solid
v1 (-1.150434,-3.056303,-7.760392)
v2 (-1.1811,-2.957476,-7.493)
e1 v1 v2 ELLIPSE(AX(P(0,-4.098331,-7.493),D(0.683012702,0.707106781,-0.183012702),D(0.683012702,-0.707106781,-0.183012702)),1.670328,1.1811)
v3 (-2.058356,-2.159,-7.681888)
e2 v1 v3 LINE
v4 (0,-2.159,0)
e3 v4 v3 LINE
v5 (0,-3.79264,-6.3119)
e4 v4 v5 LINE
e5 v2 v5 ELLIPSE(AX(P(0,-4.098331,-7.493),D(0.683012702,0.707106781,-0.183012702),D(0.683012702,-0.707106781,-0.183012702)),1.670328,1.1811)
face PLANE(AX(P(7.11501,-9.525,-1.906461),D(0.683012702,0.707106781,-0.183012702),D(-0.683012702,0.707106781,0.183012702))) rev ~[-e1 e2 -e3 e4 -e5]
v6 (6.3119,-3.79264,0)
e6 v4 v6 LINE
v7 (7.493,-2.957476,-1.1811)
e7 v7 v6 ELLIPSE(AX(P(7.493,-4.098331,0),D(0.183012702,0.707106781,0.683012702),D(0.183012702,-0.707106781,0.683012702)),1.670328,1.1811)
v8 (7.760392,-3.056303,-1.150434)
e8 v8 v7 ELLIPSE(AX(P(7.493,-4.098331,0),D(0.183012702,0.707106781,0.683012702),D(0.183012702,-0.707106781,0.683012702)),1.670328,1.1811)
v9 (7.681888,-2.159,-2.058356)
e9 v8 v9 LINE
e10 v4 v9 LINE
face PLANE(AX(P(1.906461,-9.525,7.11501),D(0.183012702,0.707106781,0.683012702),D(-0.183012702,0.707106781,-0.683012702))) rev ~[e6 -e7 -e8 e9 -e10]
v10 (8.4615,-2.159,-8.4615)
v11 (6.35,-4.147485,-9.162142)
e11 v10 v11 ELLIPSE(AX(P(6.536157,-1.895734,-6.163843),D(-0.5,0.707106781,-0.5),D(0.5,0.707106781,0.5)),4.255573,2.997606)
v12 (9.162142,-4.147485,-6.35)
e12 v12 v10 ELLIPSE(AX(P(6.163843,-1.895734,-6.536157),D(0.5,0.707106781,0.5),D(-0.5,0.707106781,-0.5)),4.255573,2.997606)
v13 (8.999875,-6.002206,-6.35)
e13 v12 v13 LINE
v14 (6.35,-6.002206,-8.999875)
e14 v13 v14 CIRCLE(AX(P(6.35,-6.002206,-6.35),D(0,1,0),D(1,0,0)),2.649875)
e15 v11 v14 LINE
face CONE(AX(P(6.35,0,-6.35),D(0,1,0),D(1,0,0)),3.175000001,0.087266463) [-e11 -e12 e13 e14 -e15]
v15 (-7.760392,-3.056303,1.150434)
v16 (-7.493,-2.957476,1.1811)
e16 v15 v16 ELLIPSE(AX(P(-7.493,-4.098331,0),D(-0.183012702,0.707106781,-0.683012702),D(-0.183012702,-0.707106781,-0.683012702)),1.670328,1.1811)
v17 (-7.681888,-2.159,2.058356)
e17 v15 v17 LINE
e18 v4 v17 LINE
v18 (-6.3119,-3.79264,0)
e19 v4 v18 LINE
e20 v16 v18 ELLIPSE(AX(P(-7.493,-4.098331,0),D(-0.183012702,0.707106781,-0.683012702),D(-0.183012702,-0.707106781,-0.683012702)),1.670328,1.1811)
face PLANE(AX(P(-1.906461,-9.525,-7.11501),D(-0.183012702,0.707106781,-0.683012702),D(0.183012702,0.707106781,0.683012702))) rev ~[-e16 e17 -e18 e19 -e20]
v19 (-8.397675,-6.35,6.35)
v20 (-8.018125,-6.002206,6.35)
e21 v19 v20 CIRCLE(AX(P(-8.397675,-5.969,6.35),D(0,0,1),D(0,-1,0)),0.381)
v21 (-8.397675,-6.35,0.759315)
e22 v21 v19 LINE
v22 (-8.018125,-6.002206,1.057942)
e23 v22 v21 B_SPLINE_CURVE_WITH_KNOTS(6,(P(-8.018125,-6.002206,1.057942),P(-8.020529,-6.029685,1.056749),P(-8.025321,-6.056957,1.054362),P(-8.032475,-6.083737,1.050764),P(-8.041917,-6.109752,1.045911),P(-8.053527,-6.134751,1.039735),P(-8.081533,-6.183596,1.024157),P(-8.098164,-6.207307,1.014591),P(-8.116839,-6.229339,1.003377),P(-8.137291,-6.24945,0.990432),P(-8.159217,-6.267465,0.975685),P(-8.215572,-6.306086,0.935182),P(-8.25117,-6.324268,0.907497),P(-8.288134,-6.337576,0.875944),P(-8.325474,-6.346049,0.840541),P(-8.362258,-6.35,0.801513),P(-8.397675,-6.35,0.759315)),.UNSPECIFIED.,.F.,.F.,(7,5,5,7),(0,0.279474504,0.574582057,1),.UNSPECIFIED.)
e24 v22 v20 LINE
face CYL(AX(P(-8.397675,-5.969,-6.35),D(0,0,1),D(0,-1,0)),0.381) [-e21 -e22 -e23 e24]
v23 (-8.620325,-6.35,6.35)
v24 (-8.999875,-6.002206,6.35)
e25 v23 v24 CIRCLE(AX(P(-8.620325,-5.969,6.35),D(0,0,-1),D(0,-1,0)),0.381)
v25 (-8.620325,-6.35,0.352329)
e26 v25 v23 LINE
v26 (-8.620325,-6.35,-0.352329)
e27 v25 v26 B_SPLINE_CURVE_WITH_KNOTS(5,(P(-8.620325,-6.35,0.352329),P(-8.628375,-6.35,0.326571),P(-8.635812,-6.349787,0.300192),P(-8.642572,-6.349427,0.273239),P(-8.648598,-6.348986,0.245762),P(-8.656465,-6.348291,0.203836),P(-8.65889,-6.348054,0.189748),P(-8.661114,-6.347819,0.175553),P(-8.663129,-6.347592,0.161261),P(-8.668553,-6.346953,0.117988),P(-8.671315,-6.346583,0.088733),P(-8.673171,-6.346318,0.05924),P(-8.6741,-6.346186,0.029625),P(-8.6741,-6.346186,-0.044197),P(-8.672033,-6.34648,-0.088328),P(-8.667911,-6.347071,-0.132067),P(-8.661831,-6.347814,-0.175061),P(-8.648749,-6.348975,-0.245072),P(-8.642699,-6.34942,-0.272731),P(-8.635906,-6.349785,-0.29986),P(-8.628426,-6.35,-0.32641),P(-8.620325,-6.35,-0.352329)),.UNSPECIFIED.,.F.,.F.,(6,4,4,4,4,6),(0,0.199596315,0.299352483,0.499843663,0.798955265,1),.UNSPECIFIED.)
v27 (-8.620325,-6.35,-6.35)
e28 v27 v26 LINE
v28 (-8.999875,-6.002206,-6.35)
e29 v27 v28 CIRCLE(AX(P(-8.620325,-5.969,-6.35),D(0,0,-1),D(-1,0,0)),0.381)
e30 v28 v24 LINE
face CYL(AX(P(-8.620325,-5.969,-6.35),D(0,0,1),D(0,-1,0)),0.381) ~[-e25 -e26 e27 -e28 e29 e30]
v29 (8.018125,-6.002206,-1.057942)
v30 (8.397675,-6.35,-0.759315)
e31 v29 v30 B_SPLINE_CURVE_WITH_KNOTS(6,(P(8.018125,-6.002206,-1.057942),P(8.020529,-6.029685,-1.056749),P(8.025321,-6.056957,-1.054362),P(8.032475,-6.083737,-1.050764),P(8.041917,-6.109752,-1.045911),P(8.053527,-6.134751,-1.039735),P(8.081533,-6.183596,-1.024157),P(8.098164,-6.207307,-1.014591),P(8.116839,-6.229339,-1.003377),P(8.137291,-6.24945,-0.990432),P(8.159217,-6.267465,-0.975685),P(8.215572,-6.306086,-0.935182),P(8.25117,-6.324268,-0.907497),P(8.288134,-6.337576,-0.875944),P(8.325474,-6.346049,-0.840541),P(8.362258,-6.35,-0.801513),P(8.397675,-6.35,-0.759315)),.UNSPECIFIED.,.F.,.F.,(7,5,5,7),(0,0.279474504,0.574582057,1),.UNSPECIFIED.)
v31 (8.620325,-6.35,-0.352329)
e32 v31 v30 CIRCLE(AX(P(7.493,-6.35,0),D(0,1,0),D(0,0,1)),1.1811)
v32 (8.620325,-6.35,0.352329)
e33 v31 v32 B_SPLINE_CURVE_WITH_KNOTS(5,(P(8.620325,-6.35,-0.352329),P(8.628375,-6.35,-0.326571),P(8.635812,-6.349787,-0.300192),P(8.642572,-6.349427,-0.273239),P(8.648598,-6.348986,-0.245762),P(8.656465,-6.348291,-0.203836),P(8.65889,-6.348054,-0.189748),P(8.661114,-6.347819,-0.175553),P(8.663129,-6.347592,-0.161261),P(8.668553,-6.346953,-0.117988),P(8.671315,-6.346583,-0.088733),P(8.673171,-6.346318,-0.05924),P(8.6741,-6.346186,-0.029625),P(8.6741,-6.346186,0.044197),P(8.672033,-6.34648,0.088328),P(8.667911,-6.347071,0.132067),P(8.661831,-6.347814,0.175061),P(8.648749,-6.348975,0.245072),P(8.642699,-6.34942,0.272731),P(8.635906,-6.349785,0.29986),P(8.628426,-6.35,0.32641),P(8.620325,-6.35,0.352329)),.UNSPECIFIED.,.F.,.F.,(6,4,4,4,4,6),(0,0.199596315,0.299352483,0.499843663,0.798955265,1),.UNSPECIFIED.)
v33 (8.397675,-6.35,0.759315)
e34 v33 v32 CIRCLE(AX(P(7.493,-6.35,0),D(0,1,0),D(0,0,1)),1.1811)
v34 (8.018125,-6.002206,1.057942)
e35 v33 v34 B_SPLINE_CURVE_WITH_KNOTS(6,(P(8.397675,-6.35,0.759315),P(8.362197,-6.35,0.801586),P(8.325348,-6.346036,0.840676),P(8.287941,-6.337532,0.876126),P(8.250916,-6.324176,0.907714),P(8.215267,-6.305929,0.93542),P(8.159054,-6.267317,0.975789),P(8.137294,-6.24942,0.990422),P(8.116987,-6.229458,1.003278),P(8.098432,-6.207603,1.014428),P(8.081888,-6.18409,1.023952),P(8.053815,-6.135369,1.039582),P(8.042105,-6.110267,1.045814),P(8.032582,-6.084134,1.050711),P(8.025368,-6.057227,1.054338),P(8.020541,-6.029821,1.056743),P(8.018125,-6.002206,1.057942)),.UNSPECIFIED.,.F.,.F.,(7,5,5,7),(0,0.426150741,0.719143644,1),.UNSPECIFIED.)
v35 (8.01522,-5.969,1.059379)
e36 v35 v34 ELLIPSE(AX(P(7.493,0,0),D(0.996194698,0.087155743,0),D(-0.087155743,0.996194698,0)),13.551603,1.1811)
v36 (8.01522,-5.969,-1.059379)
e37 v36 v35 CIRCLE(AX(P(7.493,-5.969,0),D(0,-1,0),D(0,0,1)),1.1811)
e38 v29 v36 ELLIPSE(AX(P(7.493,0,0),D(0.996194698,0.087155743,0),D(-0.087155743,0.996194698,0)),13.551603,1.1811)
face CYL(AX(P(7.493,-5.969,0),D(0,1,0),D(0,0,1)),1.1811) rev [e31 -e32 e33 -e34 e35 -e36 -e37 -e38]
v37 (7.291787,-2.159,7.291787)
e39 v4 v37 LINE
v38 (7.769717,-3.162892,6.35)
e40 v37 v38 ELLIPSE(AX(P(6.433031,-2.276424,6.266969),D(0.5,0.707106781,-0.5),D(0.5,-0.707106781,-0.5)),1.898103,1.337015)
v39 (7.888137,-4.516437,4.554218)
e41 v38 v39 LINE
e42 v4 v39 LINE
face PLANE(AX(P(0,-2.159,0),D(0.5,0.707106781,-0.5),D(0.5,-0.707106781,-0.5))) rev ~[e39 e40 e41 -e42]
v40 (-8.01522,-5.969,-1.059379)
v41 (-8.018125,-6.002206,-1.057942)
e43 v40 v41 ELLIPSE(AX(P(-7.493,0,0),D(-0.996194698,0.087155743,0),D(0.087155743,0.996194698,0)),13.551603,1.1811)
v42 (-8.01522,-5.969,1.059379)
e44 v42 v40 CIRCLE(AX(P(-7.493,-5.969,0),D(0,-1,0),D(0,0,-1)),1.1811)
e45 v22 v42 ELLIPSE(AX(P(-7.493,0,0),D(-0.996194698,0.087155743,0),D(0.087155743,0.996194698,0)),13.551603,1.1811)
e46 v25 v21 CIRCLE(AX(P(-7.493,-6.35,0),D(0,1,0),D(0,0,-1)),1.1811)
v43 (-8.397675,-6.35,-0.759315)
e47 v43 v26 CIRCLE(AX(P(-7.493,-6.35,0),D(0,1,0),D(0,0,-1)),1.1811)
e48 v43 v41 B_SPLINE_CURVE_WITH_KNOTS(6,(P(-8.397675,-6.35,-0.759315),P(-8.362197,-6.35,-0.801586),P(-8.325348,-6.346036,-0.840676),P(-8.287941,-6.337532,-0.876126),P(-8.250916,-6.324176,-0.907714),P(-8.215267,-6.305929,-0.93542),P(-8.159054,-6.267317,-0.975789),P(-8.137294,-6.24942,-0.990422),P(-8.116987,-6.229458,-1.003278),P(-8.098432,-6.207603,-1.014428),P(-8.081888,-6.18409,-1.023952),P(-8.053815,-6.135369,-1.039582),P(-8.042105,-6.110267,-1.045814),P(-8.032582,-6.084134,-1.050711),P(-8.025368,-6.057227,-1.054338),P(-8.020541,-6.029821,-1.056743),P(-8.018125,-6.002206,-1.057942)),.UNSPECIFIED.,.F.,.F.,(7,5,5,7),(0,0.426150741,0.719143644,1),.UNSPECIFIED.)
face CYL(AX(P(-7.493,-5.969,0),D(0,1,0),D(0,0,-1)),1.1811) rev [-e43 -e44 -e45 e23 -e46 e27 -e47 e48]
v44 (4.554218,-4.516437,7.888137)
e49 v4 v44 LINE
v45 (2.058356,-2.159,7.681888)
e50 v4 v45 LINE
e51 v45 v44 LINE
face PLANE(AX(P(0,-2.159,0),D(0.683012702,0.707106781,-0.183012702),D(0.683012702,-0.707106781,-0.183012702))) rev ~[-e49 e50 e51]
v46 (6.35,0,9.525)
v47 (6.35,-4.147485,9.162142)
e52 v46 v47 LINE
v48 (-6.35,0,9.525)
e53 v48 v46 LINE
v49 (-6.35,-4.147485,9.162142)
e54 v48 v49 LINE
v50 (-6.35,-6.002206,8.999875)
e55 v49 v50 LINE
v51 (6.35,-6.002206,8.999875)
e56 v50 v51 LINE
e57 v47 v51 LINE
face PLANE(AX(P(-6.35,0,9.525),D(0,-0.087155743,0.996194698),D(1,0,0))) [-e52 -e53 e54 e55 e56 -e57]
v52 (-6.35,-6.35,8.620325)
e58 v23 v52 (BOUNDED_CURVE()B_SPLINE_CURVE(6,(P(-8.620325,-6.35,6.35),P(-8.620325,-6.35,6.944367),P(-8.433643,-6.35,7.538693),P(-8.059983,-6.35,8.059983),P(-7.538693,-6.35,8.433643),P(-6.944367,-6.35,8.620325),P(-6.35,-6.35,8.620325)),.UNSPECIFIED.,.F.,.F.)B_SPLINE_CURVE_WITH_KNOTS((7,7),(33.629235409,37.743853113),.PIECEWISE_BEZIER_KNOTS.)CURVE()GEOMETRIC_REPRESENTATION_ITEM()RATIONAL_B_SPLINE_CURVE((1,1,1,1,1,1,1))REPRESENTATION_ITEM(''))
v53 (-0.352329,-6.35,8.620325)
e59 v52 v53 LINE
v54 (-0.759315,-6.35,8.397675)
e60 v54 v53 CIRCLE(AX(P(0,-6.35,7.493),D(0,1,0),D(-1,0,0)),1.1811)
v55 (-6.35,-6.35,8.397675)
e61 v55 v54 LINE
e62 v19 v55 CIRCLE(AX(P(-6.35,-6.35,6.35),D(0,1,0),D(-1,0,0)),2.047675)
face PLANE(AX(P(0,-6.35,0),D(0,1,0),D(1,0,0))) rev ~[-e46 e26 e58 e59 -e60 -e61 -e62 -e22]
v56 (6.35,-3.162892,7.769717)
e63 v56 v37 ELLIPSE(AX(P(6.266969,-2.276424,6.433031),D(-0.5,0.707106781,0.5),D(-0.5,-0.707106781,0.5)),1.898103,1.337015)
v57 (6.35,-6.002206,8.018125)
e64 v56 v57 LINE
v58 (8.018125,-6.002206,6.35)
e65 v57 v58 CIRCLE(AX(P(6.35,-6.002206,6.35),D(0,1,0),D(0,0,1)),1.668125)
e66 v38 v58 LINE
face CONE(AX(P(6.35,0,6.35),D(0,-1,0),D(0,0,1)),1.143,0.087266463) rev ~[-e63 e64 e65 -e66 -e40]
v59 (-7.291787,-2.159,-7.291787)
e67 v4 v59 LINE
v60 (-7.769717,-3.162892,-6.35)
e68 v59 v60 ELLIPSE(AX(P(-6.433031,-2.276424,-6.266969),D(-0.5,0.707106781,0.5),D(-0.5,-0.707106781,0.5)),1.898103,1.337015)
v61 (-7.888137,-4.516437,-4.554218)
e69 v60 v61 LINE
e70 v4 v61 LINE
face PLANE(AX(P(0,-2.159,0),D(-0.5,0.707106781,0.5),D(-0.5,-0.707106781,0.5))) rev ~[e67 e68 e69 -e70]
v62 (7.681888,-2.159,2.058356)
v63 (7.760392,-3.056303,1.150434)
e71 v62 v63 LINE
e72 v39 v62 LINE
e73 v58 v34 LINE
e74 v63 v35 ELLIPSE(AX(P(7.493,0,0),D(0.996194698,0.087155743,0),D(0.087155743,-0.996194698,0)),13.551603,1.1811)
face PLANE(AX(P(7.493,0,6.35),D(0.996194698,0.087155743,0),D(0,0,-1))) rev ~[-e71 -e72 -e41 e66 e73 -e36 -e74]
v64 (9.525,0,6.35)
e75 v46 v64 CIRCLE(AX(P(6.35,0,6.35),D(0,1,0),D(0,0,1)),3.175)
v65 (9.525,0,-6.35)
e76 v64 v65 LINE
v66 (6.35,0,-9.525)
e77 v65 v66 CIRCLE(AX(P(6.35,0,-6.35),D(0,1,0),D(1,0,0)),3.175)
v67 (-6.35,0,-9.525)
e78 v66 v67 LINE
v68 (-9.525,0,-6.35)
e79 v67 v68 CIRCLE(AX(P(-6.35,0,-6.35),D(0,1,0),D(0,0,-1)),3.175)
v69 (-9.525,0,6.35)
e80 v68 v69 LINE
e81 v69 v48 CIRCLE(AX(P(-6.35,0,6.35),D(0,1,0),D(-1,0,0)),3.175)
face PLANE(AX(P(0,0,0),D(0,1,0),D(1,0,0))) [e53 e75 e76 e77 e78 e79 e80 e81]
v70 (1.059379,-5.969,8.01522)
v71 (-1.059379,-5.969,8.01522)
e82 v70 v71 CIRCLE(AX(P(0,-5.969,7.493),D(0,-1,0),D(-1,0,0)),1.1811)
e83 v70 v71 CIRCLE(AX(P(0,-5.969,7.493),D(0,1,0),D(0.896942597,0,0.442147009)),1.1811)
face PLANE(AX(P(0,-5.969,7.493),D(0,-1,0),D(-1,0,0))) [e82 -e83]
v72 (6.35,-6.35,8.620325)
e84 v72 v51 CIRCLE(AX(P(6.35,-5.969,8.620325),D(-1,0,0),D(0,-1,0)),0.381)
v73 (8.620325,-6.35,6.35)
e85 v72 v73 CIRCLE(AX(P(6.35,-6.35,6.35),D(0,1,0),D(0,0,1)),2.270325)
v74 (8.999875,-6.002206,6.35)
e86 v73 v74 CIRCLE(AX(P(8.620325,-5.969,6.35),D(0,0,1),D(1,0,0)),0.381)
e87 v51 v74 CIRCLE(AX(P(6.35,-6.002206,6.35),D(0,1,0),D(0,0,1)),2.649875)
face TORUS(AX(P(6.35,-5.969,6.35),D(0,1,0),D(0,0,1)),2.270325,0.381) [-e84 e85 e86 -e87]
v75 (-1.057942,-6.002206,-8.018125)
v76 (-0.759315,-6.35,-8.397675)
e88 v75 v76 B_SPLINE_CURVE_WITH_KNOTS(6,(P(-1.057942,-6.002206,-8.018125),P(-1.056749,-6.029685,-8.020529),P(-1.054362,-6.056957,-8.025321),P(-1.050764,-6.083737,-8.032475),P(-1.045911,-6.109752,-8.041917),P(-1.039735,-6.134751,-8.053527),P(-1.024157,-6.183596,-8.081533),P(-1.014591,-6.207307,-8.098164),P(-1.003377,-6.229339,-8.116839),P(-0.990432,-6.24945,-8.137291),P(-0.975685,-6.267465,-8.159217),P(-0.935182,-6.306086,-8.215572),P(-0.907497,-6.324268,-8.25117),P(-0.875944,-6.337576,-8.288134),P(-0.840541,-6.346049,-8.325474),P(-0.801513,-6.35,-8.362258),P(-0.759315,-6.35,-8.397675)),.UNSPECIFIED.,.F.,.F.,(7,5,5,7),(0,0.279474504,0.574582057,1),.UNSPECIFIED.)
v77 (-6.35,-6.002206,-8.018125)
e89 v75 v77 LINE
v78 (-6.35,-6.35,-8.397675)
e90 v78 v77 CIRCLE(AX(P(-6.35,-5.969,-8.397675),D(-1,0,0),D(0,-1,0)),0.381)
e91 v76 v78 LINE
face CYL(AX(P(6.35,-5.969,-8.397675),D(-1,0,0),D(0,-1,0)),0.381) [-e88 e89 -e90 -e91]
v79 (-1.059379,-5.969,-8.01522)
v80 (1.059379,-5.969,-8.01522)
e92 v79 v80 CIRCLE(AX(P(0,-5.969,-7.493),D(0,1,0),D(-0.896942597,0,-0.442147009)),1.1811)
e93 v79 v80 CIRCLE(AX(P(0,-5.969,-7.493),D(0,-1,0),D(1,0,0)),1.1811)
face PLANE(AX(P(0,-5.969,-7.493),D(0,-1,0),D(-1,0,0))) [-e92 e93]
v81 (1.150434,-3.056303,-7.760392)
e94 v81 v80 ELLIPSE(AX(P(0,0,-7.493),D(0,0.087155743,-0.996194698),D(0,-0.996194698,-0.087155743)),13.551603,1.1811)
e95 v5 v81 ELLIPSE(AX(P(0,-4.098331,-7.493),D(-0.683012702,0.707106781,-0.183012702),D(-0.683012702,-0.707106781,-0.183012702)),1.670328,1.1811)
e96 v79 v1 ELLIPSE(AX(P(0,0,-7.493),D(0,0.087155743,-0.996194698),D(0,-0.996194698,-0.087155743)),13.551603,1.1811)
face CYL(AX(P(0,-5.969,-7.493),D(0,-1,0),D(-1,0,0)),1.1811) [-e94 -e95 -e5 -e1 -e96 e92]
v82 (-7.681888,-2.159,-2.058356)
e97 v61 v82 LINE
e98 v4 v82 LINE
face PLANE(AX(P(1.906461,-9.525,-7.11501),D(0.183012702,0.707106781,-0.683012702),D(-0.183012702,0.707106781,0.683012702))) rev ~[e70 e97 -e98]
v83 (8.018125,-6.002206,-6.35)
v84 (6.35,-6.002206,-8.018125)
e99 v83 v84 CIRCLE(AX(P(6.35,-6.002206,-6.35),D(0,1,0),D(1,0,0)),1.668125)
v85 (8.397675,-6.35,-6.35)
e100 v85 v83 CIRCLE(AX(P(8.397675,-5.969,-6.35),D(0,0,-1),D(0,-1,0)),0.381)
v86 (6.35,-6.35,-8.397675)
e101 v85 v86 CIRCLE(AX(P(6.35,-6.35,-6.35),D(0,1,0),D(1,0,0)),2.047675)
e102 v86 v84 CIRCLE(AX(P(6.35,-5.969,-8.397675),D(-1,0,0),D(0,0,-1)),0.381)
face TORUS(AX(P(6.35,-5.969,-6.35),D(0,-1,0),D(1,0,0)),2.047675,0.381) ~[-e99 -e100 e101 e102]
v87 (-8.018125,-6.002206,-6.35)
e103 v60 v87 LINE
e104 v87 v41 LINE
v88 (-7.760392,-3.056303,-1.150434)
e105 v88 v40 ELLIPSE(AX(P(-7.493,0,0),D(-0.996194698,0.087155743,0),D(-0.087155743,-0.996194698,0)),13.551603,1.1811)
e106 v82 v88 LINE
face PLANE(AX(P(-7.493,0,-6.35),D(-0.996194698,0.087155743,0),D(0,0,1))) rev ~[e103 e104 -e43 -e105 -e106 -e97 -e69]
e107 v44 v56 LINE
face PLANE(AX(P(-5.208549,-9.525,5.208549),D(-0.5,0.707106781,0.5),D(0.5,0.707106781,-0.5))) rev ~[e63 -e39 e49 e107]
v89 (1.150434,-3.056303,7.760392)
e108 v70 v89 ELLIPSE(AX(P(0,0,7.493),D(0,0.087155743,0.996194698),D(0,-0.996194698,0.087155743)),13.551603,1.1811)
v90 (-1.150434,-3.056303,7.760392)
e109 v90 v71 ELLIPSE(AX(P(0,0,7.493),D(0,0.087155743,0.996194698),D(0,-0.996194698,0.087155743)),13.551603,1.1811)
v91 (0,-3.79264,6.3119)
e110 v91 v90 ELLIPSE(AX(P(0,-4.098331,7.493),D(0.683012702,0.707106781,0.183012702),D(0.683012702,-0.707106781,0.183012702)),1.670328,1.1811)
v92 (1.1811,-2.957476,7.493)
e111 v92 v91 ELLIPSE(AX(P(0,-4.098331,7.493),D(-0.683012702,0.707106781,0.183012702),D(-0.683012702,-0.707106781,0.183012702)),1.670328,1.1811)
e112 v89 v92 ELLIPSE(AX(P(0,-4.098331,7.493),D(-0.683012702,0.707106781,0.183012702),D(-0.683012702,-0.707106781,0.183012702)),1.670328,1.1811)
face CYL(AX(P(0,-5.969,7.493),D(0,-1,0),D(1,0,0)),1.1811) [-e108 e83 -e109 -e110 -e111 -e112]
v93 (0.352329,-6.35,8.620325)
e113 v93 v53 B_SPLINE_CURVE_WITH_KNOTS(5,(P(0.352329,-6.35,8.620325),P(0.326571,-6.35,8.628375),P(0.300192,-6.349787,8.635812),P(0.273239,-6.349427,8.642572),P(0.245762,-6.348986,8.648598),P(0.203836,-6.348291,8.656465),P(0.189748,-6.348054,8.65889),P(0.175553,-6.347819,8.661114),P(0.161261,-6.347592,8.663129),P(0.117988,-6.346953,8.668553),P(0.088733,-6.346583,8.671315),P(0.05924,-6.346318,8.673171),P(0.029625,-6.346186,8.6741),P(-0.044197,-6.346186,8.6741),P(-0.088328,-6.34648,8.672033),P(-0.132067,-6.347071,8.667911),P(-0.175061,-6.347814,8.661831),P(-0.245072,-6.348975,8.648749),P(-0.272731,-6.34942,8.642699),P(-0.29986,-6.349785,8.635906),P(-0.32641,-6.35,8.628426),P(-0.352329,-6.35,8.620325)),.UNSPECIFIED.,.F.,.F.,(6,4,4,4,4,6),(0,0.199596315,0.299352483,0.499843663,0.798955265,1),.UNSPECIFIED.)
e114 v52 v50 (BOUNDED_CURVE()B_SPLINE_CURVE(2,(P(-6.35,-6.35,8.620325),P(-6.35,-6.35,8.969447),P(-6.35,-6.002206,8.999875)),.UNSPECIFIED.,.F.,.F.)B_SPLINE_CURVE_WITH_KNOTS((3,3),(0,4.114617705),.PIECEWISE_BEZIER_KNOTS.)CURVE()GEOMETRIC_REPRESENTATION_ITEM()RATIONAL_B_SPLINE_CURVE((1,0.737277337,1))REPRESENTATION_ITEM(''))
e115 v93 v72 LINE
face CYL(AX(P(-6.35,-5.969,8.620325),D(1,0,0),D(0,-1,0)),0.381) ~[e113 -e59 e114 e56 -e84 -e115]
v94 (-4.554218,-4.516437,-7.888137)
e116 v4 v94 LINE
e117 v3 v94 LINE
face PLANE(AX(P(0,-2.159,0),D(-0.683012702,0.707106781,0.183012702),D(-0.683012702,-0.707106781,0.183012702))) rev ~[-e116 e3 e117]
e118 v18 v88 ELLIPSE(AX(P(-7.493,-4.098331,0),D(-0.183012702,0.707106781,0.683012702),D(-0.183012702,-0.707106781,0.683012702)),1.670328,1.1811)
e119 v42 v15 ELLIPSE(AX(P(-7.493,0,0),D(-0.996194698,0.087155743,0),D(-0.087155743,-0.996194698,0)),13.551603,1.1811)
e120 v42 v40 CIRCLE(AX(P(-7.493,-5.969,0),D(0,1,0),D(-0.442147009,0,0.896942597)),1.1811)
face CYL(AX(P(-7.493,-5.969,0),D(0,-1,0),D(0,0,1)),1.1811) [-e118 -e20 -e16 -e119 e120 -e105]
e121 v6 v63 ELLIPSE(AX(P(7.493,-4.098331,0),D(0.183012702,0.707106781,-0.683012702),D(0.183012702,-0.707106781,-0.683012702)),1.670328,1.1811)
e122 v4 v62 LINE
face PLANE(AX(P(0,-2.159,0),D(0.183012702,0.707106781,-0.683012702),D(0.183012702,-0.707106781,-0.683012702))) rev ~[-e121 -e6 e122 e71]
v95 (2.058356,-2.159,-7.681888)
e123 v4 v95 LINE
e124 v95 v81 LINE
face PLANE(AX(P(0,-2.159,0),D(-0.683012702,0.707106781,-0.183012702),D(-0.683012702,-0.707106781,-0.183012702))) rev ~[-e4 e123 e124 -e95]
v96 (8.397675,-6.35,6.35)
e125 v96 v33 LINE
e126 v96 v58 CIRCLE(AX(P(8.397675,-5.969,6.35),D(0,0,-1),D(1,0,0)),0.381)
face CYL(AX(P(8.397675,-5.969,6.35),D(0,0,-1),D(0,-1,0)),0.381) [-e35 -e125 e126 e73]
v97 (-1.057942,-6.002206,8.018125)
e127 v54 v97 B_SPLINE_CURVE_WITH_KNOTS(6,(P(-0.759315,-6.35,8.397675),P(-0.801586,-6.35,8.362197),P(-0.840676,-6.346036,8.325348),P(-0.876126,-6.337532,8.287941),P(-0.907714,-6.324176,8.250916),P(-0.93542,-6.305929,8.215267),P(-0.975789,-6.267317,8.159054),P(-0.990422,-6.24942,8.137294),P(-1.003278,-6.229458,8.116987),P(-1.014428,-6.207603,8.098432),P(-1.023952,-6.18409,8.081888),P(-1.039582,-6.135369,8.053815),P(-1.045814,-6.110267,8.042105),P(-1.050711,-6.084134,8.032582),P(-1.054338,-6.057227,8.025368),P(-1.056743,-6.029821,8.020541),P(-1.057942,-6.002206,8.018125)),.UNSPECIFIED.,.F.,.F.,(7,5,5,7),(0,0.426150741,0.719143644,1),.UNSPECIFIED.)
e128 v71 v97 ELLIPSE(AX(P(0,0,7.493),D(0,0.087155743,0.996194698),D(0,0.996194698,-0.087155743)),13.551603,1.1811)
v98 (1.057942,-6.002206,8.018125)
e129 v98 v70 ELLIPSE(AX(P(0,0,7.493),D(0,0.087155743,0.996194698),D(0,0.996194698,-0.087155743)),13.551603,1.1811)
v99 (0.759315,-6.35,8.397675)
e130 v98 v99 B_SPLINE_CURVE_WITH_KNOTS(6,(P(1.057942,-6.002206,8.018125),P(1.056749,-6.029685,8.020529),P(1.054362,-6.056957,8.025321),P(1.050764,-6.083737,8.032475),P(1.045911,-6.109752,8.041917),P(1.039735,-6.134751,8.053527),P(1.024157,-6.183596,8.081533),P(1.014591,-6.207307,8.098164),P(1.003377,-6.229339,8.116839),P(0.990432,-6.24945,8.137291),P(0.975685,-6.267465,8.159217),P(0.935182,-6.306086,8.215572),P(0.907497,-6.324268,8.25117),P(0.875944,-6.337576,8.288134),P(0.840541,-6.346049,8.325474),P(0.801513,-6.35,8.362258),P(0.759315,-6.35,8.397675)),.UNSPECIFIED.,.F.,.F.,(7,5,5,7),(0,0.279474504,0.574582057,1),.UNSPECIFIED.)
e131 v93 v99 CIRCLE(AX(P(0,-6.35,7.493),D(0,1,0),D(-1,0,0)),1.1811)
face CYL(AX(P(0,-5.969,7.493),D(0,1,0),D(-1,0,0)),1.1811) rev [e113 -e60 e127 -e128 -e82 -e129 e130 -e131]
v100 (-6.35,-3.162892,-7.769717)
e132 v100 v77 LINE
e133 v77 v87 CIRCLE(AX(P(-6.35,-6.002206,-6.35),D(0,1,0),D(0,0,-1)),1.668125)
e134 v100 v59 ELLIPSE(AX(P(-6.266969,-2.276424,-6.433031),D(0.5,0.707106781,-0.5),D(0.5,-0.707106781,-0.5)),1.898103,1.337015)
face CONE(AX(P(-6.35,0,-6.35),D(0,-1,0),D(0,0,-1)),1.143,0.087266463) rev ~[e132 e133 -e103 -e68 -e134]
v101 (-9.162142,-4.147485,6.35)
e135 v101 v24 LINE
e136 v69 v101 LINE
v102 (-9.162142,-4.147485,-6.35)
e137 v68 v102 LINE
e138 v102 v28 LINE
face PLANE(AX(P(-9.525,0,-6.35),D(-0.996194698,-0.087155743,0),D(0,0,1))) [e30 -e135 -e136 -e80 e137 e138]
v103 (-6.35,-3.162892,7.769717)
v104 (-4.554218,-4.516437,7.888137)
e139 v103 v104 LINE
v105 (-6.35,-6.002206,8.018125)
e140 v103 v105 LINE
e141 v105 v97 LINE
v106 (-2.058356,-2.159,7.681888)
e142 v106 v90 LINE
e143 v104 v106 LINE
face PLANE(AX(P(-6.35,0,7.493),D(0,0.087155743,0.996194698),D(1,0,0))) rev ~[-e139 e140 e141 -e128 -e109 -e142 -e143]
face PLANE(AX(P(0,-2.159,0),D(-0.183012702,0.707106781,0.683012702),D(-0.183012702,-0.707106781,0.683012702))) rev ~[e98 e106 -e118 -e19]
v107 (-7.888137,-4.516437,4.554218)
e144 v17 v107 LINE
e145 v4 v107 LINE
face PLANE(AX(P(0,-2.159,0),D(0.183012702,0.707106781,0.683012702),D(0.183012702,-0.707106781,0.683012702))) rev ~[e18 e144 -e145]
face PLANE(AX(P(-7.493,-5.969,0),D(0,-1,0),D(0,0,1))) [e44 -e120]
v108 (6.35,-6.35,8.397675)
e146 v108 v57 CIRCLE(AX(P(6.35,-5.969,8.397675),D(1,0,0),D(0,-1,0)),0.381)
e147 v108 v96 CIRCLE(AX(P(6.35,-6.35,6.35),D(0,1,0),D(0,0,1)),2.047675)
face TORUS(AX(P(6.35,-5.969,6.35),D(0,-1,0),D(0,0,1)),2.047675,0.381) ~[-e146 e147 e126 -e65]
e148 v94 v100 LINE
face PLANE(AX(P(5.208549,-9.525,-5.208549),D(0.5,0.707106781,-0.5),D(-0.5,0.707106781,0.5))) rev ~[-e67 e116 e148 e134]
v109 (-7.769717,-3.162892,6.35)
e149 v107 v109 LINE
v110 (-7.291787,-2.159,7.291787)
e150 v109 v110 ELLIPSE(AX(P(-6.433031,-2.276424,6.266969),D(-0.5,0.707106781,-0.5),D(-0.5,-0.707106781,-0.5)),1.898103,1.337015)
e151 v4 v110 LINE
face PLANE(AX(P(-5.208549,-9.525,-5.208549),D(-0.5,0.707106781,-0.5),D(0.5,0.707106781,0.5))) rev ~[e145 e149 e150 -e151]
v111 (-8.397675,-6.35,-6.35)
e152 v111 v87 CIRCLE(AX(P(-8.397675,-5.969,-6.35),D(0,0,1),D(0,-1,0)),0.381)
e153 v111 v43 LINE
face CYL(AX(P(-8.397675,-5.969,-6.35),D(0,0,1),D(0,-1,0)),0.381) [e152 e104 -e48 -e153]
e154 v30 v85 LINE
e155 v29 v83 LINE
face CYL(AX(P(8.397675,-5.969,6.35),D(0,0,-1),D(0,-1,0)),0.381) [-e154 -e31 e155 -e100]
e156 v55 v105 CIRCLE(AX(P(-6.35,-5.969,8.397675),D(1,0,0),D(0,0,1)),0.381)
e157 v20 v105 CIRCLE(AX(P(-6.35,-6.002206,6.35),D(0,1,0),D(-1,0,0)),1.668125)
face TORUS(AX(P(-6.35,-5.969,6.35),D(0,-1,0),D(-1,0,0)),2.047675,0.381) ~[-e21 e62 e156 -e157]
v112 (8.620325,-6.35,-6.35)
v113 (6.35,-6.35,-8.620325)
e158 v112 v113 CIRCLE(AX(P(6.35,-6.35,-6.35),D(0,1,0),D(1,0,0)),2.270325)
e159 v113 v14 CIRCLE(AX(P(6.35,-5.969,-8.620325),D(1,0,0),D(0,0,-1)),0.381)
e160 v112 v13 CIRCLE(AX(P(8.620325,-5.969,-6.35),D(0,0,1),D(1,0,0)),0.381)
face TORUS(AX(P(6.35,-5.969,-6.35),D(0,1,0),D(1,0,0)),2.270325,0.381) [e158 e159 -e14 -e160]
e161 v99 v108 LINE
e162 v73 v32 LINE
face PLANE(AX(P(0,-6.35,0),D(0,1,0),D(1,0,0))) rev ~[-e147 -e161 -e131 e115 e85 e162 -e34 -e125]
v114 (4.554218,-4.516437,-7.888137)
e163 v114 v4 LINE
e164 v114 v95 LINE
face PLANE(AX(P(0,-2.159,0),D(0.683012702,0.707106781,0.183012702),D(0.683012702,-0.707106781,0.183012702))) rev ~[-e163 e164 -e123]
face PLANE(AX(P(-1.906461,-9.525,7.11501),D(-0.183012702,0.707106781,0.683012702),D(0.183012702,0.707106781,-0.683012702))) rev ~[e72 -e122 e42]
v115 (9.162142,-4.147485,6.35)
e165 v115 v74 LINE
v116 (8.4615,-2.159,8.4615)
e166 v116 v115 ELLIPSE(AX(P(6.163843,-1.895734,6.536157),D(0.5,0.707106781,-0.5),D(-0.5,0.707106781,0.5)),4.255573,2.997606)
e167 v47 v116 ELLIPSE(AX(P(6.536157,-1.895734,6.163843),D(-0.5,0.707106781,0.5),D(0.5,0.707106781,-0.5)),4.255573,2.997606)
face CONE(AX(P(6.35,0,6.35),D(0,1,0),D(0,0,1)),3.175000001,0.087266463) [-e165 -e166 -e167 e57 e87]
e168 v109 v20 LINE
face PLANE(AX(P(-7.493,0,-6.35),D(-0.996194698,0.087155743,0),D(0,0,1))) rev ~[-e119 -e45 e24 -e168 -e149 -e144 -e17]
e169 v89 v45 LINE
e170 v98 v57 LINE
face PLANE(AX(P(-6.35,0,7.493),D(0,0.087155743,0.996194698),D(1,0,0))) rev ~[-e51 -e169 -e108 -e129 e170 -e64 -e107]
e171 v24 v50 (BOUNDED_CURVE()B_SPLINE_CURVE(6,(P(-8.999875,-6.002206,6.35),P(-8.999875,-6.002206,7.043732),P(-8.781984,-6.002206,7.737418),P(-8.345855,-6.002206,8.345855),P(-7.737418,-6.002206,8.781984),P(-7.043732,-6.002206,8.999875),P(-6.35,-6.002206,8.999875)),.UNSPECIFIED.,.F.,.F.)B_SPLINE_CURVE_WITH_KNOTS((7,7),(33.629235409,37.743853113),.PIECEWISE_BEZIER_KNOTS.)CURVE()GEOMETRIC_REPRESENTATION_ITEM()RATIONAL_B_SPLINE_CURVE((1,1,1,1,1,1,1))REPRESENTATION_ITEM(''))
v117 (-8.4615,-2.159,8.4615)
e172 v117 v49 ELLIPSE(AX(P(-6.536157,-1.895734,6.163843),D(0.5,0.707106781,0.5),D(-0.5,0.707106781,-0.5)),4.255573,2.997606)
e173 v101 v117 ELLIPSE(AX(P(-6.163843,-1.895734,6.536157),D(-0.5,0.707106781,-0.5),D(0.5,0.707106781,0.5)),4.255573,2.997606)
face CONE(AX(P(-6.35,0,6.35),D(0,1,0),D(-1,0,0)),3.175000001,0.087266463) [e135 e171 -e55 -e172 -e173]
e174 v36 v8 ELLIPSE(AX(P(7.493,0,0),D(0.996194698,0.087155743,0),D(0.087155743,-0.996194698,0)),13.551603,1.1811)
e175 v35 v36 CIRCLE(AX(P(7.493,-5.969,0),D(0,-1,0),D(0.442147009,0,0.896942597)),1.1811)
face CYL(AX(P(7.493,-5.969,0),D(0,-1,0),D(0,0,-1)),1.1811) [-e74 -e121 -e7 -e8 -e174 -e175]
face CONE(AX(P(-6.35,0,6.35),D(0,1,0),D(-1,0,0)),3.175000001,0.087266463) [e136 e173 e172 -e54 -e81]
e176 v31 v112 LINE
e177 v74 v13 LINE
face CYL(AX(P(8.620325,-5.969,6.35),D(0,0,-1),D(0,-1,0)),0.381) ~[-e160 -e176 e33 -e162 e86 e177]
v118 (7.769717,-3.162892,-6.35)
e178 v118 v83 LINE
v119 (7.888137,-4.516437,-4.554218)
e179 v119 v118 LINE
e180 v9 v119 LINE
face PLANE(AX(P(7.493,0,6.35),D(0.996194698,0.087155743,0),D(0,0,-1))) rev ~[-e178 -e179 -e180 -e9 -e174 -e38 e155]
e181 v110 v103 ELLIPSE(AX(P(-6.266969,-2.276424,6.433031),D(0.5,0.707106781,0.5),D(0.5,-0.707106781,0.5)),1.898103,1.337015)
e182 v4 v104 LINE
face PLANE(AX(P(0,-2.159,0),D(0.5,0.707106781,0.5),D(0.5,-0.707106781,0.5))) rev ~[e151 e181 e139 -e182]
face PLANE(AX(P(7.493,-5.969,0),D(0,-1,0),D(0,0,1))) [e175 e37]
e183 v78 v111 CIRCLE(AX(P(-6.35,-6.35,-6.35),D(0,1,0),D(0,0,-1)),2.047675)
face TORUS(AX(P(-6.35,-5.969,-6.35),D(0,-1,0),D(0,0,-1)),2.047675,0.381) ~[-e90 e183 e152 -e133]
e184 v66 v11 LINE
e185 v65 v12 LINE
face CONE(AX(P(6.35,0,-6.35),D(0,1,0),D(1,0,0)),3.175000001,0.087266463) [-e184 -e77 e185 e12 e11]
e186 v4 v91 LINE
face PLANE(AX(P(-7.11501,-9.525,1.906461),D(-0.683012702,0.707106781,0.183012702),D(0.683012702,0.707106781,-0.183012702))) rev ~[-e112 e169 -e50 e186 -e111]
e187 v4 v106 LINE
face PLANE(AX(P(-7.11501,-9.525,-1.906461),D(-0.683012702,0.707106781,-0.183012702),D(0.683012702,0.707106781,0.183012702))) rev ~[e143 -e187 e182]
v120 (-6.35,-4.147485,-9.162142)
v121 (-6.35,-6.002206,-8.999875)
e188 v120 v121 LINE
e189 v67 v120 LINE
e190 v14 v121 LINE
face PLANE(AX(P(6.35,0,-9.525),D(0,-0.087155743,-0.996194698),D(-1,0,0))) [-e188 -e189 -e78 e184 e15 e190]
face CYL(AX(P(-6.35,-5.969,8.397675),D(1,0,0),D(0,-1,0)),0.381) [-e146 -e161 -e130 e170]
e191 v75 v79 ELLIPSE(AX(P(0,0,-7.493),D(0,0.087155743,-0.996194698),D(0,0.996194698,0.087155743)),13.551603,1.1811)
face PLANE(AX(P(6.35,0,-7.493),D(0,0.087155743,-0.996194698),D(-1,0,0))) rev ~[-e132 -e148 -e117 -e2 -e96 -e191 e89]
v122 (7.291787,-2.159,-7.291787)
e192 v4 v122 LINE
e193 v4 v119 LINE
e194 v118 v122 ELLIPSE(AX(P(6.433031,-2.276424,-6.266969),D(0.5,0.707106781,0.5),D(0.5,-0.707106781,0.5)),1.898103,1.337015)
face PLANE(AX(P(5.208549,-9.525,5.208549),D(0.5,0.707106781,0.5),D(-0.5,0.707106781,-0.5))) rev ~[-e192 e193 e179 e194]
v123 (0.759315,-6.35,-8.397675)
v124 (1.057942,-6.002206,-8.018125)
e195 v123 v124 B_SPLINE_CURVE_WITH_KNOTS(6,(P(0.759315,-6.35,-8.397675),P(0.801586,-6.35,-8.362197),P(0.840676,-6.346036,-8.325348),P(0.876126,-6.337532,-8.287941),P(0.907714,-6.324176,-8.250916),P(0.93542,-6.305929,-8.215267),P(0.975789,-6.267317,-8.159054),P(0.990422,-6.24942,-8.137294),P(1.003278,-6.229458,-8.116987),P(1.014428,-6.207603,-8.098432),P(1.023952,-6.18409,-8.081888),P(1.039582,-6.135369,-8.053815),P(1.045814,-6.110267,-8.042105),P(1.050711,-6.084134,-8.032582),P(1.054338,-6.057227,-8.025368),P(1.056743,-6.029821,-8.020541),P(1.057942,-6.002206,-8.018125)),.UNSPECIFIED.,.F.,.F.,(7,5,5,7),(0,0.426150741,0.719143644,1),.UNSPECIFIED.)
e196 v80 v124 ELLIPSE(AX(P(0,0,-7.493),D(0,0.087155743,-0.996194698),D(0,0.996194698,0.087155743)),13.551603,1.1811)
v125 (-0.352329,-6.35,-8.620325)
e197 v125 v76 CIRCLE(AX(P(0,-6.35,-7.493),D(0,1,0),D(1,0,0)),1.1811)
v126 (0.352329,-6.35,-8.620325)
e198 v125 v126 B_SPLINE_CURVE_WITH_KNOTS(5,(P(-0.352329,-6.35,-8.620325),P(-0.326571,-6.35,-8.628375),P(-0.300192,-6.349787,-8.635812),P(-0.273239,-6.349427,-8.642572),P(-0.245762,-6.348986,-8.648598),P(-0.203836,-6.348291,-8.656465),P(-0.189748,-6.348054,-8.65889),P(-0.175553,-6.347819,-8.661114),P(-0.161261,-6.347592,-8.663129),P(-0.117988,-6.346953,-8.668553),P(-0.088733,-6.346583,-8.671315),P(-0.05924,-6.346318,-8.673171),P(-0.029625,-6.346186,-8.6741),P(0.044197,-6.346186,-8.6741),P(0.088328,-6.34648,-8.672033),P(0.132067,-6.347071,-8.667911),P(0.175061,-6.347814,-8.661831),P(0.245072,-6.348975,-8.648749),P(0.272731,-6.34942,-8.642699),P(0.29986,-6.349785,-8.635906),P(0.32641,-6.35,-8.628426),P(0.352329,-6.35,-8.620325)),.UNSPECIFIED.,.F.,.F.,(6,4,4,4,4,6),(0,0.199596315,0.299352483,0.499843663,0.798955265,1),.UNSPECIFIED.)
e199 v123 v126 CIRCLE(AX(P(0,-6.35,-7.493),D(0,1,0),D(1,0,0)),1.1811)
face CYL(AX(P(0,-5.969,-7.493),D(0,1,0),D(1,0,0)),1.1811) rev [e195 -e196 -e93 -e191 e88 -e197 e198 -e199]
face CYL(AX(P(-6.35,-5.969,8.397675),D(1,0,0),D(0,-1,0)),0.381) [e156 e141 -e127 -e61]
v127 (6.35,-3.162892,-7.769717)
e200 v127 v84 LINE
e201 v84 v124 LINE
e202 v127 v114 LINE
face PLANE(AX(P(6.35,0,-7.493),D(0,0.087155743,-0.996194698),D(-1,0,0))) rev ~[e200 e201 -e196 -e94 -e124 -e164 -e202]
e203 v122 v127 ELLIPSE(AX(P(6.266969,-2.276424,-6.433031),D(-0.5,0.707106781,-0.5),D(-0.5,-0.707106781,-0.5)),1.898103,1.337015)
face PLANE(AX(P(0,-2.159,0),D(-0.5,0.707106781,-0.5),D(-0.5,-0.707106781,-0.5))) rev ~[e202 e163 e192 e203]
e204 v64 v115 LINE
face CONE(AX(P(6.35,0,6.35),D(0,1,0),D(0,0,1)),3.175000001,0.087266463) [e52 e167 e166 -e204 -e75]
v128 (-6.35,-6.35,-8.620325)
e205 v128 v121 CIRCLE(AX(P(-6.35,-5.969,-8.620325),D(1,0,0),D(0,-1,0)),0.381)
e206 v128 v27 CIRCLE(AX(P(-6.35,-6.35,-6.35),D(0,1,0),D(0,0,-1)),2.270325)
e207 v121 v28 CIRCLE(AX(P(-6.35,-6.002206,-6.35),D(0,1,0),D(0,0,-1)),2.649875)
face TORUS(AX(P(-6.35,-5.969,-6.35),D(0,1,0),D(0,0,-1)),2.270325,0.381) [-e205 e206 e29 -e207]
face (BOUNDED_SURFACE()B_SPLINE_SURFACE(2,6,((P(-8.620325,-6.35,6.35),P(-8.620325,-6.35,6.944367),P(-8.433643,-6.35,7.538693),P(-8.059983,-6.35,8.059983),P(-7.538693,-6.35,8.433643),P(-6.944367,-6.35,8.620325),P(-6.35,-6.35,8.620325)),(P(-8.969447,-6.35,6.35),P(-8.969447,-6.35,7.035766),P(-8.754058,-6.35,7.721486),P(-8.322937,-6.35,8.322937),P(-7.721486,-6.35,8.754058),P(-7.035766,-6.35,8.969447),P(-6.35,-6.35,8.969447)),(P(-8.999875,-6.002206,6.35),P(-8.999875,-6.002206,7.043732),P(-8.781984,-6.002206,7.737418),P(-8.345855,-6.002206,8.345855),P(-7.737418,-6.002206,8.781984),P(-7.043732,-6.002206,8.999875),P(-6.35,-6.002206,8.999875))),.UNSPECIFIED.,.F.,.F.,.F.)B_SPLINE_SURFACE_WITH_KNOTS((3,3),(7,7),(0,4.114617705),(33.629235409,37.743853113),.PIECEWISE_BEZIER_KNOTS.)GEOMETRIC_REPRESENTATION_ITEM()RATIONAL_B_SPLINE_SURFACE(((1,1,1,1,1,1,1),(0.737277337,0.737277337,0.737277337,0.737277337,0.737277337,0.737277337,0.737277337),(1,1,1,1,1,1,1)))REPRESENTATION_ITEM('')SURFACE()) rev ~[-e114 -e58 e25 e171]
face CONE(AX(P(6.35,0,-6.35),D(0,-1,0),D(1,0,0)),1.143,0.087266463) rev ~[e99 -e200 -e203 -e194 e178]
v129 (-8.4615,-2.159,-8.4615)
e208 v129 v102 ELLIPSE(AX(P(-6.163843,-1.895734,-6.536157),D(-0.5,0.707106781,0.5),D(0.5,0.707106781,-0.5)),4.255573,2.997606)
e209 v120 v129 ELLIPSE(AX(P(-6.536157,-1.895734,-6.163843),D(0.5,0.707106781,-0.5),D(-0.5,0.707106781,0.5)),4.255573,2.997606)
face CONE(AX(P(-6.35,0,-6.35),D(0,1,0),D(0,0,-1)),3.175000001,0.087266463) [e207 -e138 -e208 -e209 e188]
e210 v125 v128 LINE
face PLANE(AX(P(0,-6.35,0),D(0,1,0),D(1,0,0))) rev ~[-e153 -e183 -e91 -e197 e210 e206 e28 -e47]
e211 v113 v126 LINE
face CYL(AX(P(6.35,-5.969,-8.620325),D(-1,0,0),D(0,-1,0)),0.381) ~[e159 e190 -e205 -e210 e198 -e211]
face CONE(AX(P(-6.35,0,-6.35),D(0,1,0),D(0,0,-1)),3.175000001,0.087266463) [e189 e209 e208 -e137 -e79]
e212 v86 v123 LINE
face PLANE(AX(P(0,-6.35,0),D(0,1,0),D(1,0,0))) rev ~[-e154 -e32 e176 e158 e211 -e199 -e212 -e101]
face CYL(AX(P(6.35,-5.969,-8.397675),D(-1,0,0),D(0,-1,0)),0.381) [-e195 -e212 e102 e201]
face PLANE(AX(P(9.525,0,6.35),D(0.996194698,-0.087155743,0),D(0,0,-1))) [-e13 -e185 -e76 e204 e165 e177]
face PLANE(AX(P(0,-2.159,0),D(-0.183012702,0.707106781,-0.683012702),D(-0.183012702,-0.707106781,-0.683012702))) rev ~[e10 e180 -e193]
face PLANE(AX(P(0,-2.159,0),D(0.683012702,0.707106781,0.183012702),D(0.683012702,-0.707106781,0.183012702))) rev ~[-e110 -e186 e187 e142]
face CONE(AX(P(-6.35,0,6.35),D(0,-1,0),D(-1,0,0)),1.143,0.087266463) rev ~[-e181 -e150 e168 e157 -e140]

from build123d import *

# Parameters (mm, degrees)
BOSS_EXTRUDE1_DEPTH = 6.35
BOSS_EXTRUDE1_DRAFT = -5
CUT_EXTRUDE3_DEPTH  = 15.892070037
CIRPATTERN3_COUNT   = 12
BOSS_EXTRUDE3_DEPTH = 6.35
BOSS_EXTRUDE3_DRAFT = -5
FILLET2_R           = 0.381
BOSS_EXTRUDE4_REACH = 16.734
SKETCH8_R           = 1.1811
SKETCH9_R           = 1.1811
CUT_EXTRUDE4_DEPTH  = 15.73364215
CIRPATTERN4_COUNT   = 4


with BuildPart() as part:
    # Sketch1 → Boss-Extrude1 (with draft: the straight prism first)
    with BuildSketch(Plane(origin=(0, 0, 0), x_dir=(1, 0, 0), z_dir=(0, 1, 0))):
        with BuildLine():
            Line((-6.35, -9.525), (6.35, -9.525))
            ThreePointArc((6.35, -9.525), (8.59506403, -8.59506403), (9.525, -6.35))
            Line((9.525, -6.35), (9.525, 6.35))
            ThreePointArc((9.525, 6.35), (8.59506403, 8.59506403), (6.35, 9.525))
            Line((6.35, 9.525), (-6.35, 9.525))
            ThreePointArc((-6.35, 9.525), (-8.59506403, 8.59506403), (-9.525, 6.35))
            Line((-9.525, 6.35), (-9.525, -6.35))
            ThreePointArc((-9.525, -6.35), (-8.59506403, -8.59506403), (-6.35, -9.525))
        make_face()
    extrude(amount=-BOSS_EXTRUDE1_DEPTH)
    # Boss-Extrude1: the draft: its side faces are tilted about the plane it starts from
    boss_extrude1_sides = [part.faces().sort_by_distance(p)[0] for p in [
        (-8.59506403, -3.175, 8.59506403),
        (0, -3.175, 9.525),
        (8.59506403, -3.175, 8.59506403),
        (9.525, -3.175, 0),
        (8.59506403, -3.175, -8.59506403),
        (0, -3.175, -9.525),
        (-8.59506403, -3.175, -8.59506403),
        (-9.525, -3.175, 0),
    ]]
    draft(boss_extrude1_sides, Plane(origin=(0, 0, 0), x_dir=(1, 0, 0), z_dir=(0, 1, 0)), BOSS_EXTRUDE1_DRAFT)

    # Sketch6 → Cut-Extrude3 (cut, through all)
    with BuildSketch(Plane(origin=(0, 0, 0), x_dir=(0.9659258262890681, 0, 0.25881904510252135), z_dir=(-0.25881904510252135, 0, 0.9659258262890681))):
        Polygon((0, -2.159), (-7.366, -9.525), (7.366, -9.525), align=None)
    cut_extrude3 = extrude(amount=-CUT_EXTRUDE3_DEPTH, mode=Mode.SUBTRACT)

    # CirPattern3: Cut-Extrude3 ×12 about axis
    cirpattern3_axis = Axis((0, 0, 0), (0, 1, 0))
    for i in range(1, CIRPATTERN3_COUNT):
        add(cut_extrude3.rotate(cirpattern3_axis, i * 360 / CIRPATTERN3_COUNT), mode=Mode.SUBTRACT)


with BuildPart() as boss_extrude3_tool:
    # Sketch7 → Boss-Extrude3 (with draft: the straight prism first)
    with BuildSketch(Plane(origin=(0, 0, 0), x_dir=(1, 0, 0), z_dir=(0, 1, 0))):
        with BuildLine():
            Line((-6.35, -9.525), (6.35, -9.525))
            ThreePointArc((6.35, -9.525), (8.59506403, -8.59506403), (9.525, -6.35))
            Line((9.525, -6.35), (9.525, 6.35))
            ThreePointArc((9.525, 6.35), (8.59506403, 8.59506403), (6.35, 9.525))
            Line((6.35, 9.525), (-6.35, 9.525))
            ThreePointArc((-6.35, 9.525), (-8.59506403, 8.59506403), (-9.525, 6.35))
            Line((-9.525, 6.35), (-9.525, -6.35))
            ThreePointArc((-9.525, -6.35), (-8.59506403, -8.59506403), (-6.35, -9.525))
        make_face()
        with BuildLine():
            Line((-6.35, -7.493), (6.35, -7.493))
            ThreePointArc((6.35, -7.493), (7.158223051, -7.158223051), (7.493, -6.35))
            Line((7.493, -6.35), (7.493, 6.35))
            ThreePointArc((7.493, 6.35), (7.158223051, 7.158223051), (6.35, 7.493))
            Line((6.35, 7.493), (-6.35, 7.493))
            ThreePointArc((-6.35, 7.493), (-7.158223051, 7.158223051), (-7.493, 6.35))
            Line((-7.493, 6.35), (-7.493, -6.35))
            ThreePointArc((-7.493, -6.35), (-7.158223051, -7.158223051), (-6.35, -7.493))
        make_face(mode=Mode.SUBTRACT)
    extrude(amount=-BOSS_EXTRUDE3_DEPTH)
    # Boss-Extrude3: the draft: its side faces are tilted about the plane it starts from
    boss_extrude3_sides = [boss_extrude3_tool.faces().sort_by_distance(p)[0] for p in [
        (0, -3.175, 9.525),
        (8.59506403, -3.175, 8.59506403),
        (9.525, -3.175, 0),
        (8.59506403, -3.175, -8.59506403),
        (0, -3.175, -9.525),
        (-8.59506403, -3.175, -8.59506403),
        (-9.525, -3.175, 0),
        (-8.59506403, -3.175, 8.59506403),
        (-7.158223051, -3.175, 7.158223051),
        (-7.493, -3.175, 0),
        (-7.158223051, -3.175, -7.158223051),
        (0, -3.175, -7.493),
        (7.158223051, -3.175, -7.158223051),
        (7.493, -3.175, 0),
        (7.158223051, -3.175, 7.158223051),
        (0, -3.175, 7.493),
    ]]
    draft(boss_extrude3_sides, Plane(origin=(0, 0, 0), x_dir=(1, 0, 0), z_dir=(0, 1, 0)), BOSS_EXTRUDE3_DRAFT)


with BuildPart() as part_1:
    add(part.part)

    # Boss-Extrude3: add boss_extrude3_tool
    add(boss_extrude3_tool.part)

    # Fillet2
    fillet2_edges = [part_1.edges().sort_by_distance(p)[0] for p in [
        (8.202228727, -6.35, -8.202228727),
        (8.202228727, -6.35, 8.202228727),
        (-8.202228727, -6.35, 8.202228727),
        (-8.202228727, -6.35, -8.202228727),
        (-8.969446987, -6.35, 0),
        (0, -6.35, -8.969446987),
        (0, -6.35, 8.969446987),
        (8.969446987, -6.35, 0),
        (-8.048553013, -6.35, 0),
        (-7.551058354, -6.35, 7.551058354),
        (0, -6.35, 8.048553013),
        (7.551058354, -6.35, 7.551058354),
        (8.048553013, -6.35, 0),
        (7.551058354, -6.35, -7.551058354),
        (0, -6.35, -8.048553013),
        (-7.551058354, -6.35, -7.551058354),
    ]]
    fillet(fillet2_edges, radius=FILLET2_R)

    # Sketch8 → Boss-Extrude4 (add, up to next)
    with BuildSketch(Plane(origin=(0, -5.969, 0), x_dir=(-1, 0, 0), z_dir=(0, -1, 0)), mode=Mode.PRIVATE) as boss_extrude4_sk1:
        with Locations((0, 7.493)):
            Circle(SKETCH8_R)
    boss_extrude4_tool1 = extrude(boss_extrude4_sk1.sketch, amount=-BOSS_EXTRUDE4_REACH, mode=Mode.PRIVATE) - part_1.part
    boss_extrude4 = boss_extrude4_tool1.solids().sort_by_distance((0, -5.969, -7.493))[0]
    add(boss_extrude4)

    # Sketch9 → Cut-Extrude4 (cut, through all)
    with BuildSketch(Plane.XZ.offset(5.969)):
        with Locations((0, -7.493)):
            Circle(SKETCH9_R)
    cut_extrude4 = extrude(amount=CUT_EXTRUDE4_DEPTH, mode=Mode.SUBTRACT)

    # CirPattern4: Boss-Extrude4, Cut-Extrude4 ×4 about axis
    cirpattern4_axis = Axis((0, 0, 0), (0, 1, 0))
    add([boss_extrude4.rotate(cirpattern4_axis, i * 360 / CIRPATTERN4_COUNT) for i in range(1, CIRPATTERN4_COUNT)])
    add([cut_extrude4.rotate(cirpattern4_axis, i * 360 / CIRPATTERN4_COUNT) for i in range(1, CIRPATTERN4_COUNT)], mode=Mode.SUBTRACT)


solid = part_1.part
